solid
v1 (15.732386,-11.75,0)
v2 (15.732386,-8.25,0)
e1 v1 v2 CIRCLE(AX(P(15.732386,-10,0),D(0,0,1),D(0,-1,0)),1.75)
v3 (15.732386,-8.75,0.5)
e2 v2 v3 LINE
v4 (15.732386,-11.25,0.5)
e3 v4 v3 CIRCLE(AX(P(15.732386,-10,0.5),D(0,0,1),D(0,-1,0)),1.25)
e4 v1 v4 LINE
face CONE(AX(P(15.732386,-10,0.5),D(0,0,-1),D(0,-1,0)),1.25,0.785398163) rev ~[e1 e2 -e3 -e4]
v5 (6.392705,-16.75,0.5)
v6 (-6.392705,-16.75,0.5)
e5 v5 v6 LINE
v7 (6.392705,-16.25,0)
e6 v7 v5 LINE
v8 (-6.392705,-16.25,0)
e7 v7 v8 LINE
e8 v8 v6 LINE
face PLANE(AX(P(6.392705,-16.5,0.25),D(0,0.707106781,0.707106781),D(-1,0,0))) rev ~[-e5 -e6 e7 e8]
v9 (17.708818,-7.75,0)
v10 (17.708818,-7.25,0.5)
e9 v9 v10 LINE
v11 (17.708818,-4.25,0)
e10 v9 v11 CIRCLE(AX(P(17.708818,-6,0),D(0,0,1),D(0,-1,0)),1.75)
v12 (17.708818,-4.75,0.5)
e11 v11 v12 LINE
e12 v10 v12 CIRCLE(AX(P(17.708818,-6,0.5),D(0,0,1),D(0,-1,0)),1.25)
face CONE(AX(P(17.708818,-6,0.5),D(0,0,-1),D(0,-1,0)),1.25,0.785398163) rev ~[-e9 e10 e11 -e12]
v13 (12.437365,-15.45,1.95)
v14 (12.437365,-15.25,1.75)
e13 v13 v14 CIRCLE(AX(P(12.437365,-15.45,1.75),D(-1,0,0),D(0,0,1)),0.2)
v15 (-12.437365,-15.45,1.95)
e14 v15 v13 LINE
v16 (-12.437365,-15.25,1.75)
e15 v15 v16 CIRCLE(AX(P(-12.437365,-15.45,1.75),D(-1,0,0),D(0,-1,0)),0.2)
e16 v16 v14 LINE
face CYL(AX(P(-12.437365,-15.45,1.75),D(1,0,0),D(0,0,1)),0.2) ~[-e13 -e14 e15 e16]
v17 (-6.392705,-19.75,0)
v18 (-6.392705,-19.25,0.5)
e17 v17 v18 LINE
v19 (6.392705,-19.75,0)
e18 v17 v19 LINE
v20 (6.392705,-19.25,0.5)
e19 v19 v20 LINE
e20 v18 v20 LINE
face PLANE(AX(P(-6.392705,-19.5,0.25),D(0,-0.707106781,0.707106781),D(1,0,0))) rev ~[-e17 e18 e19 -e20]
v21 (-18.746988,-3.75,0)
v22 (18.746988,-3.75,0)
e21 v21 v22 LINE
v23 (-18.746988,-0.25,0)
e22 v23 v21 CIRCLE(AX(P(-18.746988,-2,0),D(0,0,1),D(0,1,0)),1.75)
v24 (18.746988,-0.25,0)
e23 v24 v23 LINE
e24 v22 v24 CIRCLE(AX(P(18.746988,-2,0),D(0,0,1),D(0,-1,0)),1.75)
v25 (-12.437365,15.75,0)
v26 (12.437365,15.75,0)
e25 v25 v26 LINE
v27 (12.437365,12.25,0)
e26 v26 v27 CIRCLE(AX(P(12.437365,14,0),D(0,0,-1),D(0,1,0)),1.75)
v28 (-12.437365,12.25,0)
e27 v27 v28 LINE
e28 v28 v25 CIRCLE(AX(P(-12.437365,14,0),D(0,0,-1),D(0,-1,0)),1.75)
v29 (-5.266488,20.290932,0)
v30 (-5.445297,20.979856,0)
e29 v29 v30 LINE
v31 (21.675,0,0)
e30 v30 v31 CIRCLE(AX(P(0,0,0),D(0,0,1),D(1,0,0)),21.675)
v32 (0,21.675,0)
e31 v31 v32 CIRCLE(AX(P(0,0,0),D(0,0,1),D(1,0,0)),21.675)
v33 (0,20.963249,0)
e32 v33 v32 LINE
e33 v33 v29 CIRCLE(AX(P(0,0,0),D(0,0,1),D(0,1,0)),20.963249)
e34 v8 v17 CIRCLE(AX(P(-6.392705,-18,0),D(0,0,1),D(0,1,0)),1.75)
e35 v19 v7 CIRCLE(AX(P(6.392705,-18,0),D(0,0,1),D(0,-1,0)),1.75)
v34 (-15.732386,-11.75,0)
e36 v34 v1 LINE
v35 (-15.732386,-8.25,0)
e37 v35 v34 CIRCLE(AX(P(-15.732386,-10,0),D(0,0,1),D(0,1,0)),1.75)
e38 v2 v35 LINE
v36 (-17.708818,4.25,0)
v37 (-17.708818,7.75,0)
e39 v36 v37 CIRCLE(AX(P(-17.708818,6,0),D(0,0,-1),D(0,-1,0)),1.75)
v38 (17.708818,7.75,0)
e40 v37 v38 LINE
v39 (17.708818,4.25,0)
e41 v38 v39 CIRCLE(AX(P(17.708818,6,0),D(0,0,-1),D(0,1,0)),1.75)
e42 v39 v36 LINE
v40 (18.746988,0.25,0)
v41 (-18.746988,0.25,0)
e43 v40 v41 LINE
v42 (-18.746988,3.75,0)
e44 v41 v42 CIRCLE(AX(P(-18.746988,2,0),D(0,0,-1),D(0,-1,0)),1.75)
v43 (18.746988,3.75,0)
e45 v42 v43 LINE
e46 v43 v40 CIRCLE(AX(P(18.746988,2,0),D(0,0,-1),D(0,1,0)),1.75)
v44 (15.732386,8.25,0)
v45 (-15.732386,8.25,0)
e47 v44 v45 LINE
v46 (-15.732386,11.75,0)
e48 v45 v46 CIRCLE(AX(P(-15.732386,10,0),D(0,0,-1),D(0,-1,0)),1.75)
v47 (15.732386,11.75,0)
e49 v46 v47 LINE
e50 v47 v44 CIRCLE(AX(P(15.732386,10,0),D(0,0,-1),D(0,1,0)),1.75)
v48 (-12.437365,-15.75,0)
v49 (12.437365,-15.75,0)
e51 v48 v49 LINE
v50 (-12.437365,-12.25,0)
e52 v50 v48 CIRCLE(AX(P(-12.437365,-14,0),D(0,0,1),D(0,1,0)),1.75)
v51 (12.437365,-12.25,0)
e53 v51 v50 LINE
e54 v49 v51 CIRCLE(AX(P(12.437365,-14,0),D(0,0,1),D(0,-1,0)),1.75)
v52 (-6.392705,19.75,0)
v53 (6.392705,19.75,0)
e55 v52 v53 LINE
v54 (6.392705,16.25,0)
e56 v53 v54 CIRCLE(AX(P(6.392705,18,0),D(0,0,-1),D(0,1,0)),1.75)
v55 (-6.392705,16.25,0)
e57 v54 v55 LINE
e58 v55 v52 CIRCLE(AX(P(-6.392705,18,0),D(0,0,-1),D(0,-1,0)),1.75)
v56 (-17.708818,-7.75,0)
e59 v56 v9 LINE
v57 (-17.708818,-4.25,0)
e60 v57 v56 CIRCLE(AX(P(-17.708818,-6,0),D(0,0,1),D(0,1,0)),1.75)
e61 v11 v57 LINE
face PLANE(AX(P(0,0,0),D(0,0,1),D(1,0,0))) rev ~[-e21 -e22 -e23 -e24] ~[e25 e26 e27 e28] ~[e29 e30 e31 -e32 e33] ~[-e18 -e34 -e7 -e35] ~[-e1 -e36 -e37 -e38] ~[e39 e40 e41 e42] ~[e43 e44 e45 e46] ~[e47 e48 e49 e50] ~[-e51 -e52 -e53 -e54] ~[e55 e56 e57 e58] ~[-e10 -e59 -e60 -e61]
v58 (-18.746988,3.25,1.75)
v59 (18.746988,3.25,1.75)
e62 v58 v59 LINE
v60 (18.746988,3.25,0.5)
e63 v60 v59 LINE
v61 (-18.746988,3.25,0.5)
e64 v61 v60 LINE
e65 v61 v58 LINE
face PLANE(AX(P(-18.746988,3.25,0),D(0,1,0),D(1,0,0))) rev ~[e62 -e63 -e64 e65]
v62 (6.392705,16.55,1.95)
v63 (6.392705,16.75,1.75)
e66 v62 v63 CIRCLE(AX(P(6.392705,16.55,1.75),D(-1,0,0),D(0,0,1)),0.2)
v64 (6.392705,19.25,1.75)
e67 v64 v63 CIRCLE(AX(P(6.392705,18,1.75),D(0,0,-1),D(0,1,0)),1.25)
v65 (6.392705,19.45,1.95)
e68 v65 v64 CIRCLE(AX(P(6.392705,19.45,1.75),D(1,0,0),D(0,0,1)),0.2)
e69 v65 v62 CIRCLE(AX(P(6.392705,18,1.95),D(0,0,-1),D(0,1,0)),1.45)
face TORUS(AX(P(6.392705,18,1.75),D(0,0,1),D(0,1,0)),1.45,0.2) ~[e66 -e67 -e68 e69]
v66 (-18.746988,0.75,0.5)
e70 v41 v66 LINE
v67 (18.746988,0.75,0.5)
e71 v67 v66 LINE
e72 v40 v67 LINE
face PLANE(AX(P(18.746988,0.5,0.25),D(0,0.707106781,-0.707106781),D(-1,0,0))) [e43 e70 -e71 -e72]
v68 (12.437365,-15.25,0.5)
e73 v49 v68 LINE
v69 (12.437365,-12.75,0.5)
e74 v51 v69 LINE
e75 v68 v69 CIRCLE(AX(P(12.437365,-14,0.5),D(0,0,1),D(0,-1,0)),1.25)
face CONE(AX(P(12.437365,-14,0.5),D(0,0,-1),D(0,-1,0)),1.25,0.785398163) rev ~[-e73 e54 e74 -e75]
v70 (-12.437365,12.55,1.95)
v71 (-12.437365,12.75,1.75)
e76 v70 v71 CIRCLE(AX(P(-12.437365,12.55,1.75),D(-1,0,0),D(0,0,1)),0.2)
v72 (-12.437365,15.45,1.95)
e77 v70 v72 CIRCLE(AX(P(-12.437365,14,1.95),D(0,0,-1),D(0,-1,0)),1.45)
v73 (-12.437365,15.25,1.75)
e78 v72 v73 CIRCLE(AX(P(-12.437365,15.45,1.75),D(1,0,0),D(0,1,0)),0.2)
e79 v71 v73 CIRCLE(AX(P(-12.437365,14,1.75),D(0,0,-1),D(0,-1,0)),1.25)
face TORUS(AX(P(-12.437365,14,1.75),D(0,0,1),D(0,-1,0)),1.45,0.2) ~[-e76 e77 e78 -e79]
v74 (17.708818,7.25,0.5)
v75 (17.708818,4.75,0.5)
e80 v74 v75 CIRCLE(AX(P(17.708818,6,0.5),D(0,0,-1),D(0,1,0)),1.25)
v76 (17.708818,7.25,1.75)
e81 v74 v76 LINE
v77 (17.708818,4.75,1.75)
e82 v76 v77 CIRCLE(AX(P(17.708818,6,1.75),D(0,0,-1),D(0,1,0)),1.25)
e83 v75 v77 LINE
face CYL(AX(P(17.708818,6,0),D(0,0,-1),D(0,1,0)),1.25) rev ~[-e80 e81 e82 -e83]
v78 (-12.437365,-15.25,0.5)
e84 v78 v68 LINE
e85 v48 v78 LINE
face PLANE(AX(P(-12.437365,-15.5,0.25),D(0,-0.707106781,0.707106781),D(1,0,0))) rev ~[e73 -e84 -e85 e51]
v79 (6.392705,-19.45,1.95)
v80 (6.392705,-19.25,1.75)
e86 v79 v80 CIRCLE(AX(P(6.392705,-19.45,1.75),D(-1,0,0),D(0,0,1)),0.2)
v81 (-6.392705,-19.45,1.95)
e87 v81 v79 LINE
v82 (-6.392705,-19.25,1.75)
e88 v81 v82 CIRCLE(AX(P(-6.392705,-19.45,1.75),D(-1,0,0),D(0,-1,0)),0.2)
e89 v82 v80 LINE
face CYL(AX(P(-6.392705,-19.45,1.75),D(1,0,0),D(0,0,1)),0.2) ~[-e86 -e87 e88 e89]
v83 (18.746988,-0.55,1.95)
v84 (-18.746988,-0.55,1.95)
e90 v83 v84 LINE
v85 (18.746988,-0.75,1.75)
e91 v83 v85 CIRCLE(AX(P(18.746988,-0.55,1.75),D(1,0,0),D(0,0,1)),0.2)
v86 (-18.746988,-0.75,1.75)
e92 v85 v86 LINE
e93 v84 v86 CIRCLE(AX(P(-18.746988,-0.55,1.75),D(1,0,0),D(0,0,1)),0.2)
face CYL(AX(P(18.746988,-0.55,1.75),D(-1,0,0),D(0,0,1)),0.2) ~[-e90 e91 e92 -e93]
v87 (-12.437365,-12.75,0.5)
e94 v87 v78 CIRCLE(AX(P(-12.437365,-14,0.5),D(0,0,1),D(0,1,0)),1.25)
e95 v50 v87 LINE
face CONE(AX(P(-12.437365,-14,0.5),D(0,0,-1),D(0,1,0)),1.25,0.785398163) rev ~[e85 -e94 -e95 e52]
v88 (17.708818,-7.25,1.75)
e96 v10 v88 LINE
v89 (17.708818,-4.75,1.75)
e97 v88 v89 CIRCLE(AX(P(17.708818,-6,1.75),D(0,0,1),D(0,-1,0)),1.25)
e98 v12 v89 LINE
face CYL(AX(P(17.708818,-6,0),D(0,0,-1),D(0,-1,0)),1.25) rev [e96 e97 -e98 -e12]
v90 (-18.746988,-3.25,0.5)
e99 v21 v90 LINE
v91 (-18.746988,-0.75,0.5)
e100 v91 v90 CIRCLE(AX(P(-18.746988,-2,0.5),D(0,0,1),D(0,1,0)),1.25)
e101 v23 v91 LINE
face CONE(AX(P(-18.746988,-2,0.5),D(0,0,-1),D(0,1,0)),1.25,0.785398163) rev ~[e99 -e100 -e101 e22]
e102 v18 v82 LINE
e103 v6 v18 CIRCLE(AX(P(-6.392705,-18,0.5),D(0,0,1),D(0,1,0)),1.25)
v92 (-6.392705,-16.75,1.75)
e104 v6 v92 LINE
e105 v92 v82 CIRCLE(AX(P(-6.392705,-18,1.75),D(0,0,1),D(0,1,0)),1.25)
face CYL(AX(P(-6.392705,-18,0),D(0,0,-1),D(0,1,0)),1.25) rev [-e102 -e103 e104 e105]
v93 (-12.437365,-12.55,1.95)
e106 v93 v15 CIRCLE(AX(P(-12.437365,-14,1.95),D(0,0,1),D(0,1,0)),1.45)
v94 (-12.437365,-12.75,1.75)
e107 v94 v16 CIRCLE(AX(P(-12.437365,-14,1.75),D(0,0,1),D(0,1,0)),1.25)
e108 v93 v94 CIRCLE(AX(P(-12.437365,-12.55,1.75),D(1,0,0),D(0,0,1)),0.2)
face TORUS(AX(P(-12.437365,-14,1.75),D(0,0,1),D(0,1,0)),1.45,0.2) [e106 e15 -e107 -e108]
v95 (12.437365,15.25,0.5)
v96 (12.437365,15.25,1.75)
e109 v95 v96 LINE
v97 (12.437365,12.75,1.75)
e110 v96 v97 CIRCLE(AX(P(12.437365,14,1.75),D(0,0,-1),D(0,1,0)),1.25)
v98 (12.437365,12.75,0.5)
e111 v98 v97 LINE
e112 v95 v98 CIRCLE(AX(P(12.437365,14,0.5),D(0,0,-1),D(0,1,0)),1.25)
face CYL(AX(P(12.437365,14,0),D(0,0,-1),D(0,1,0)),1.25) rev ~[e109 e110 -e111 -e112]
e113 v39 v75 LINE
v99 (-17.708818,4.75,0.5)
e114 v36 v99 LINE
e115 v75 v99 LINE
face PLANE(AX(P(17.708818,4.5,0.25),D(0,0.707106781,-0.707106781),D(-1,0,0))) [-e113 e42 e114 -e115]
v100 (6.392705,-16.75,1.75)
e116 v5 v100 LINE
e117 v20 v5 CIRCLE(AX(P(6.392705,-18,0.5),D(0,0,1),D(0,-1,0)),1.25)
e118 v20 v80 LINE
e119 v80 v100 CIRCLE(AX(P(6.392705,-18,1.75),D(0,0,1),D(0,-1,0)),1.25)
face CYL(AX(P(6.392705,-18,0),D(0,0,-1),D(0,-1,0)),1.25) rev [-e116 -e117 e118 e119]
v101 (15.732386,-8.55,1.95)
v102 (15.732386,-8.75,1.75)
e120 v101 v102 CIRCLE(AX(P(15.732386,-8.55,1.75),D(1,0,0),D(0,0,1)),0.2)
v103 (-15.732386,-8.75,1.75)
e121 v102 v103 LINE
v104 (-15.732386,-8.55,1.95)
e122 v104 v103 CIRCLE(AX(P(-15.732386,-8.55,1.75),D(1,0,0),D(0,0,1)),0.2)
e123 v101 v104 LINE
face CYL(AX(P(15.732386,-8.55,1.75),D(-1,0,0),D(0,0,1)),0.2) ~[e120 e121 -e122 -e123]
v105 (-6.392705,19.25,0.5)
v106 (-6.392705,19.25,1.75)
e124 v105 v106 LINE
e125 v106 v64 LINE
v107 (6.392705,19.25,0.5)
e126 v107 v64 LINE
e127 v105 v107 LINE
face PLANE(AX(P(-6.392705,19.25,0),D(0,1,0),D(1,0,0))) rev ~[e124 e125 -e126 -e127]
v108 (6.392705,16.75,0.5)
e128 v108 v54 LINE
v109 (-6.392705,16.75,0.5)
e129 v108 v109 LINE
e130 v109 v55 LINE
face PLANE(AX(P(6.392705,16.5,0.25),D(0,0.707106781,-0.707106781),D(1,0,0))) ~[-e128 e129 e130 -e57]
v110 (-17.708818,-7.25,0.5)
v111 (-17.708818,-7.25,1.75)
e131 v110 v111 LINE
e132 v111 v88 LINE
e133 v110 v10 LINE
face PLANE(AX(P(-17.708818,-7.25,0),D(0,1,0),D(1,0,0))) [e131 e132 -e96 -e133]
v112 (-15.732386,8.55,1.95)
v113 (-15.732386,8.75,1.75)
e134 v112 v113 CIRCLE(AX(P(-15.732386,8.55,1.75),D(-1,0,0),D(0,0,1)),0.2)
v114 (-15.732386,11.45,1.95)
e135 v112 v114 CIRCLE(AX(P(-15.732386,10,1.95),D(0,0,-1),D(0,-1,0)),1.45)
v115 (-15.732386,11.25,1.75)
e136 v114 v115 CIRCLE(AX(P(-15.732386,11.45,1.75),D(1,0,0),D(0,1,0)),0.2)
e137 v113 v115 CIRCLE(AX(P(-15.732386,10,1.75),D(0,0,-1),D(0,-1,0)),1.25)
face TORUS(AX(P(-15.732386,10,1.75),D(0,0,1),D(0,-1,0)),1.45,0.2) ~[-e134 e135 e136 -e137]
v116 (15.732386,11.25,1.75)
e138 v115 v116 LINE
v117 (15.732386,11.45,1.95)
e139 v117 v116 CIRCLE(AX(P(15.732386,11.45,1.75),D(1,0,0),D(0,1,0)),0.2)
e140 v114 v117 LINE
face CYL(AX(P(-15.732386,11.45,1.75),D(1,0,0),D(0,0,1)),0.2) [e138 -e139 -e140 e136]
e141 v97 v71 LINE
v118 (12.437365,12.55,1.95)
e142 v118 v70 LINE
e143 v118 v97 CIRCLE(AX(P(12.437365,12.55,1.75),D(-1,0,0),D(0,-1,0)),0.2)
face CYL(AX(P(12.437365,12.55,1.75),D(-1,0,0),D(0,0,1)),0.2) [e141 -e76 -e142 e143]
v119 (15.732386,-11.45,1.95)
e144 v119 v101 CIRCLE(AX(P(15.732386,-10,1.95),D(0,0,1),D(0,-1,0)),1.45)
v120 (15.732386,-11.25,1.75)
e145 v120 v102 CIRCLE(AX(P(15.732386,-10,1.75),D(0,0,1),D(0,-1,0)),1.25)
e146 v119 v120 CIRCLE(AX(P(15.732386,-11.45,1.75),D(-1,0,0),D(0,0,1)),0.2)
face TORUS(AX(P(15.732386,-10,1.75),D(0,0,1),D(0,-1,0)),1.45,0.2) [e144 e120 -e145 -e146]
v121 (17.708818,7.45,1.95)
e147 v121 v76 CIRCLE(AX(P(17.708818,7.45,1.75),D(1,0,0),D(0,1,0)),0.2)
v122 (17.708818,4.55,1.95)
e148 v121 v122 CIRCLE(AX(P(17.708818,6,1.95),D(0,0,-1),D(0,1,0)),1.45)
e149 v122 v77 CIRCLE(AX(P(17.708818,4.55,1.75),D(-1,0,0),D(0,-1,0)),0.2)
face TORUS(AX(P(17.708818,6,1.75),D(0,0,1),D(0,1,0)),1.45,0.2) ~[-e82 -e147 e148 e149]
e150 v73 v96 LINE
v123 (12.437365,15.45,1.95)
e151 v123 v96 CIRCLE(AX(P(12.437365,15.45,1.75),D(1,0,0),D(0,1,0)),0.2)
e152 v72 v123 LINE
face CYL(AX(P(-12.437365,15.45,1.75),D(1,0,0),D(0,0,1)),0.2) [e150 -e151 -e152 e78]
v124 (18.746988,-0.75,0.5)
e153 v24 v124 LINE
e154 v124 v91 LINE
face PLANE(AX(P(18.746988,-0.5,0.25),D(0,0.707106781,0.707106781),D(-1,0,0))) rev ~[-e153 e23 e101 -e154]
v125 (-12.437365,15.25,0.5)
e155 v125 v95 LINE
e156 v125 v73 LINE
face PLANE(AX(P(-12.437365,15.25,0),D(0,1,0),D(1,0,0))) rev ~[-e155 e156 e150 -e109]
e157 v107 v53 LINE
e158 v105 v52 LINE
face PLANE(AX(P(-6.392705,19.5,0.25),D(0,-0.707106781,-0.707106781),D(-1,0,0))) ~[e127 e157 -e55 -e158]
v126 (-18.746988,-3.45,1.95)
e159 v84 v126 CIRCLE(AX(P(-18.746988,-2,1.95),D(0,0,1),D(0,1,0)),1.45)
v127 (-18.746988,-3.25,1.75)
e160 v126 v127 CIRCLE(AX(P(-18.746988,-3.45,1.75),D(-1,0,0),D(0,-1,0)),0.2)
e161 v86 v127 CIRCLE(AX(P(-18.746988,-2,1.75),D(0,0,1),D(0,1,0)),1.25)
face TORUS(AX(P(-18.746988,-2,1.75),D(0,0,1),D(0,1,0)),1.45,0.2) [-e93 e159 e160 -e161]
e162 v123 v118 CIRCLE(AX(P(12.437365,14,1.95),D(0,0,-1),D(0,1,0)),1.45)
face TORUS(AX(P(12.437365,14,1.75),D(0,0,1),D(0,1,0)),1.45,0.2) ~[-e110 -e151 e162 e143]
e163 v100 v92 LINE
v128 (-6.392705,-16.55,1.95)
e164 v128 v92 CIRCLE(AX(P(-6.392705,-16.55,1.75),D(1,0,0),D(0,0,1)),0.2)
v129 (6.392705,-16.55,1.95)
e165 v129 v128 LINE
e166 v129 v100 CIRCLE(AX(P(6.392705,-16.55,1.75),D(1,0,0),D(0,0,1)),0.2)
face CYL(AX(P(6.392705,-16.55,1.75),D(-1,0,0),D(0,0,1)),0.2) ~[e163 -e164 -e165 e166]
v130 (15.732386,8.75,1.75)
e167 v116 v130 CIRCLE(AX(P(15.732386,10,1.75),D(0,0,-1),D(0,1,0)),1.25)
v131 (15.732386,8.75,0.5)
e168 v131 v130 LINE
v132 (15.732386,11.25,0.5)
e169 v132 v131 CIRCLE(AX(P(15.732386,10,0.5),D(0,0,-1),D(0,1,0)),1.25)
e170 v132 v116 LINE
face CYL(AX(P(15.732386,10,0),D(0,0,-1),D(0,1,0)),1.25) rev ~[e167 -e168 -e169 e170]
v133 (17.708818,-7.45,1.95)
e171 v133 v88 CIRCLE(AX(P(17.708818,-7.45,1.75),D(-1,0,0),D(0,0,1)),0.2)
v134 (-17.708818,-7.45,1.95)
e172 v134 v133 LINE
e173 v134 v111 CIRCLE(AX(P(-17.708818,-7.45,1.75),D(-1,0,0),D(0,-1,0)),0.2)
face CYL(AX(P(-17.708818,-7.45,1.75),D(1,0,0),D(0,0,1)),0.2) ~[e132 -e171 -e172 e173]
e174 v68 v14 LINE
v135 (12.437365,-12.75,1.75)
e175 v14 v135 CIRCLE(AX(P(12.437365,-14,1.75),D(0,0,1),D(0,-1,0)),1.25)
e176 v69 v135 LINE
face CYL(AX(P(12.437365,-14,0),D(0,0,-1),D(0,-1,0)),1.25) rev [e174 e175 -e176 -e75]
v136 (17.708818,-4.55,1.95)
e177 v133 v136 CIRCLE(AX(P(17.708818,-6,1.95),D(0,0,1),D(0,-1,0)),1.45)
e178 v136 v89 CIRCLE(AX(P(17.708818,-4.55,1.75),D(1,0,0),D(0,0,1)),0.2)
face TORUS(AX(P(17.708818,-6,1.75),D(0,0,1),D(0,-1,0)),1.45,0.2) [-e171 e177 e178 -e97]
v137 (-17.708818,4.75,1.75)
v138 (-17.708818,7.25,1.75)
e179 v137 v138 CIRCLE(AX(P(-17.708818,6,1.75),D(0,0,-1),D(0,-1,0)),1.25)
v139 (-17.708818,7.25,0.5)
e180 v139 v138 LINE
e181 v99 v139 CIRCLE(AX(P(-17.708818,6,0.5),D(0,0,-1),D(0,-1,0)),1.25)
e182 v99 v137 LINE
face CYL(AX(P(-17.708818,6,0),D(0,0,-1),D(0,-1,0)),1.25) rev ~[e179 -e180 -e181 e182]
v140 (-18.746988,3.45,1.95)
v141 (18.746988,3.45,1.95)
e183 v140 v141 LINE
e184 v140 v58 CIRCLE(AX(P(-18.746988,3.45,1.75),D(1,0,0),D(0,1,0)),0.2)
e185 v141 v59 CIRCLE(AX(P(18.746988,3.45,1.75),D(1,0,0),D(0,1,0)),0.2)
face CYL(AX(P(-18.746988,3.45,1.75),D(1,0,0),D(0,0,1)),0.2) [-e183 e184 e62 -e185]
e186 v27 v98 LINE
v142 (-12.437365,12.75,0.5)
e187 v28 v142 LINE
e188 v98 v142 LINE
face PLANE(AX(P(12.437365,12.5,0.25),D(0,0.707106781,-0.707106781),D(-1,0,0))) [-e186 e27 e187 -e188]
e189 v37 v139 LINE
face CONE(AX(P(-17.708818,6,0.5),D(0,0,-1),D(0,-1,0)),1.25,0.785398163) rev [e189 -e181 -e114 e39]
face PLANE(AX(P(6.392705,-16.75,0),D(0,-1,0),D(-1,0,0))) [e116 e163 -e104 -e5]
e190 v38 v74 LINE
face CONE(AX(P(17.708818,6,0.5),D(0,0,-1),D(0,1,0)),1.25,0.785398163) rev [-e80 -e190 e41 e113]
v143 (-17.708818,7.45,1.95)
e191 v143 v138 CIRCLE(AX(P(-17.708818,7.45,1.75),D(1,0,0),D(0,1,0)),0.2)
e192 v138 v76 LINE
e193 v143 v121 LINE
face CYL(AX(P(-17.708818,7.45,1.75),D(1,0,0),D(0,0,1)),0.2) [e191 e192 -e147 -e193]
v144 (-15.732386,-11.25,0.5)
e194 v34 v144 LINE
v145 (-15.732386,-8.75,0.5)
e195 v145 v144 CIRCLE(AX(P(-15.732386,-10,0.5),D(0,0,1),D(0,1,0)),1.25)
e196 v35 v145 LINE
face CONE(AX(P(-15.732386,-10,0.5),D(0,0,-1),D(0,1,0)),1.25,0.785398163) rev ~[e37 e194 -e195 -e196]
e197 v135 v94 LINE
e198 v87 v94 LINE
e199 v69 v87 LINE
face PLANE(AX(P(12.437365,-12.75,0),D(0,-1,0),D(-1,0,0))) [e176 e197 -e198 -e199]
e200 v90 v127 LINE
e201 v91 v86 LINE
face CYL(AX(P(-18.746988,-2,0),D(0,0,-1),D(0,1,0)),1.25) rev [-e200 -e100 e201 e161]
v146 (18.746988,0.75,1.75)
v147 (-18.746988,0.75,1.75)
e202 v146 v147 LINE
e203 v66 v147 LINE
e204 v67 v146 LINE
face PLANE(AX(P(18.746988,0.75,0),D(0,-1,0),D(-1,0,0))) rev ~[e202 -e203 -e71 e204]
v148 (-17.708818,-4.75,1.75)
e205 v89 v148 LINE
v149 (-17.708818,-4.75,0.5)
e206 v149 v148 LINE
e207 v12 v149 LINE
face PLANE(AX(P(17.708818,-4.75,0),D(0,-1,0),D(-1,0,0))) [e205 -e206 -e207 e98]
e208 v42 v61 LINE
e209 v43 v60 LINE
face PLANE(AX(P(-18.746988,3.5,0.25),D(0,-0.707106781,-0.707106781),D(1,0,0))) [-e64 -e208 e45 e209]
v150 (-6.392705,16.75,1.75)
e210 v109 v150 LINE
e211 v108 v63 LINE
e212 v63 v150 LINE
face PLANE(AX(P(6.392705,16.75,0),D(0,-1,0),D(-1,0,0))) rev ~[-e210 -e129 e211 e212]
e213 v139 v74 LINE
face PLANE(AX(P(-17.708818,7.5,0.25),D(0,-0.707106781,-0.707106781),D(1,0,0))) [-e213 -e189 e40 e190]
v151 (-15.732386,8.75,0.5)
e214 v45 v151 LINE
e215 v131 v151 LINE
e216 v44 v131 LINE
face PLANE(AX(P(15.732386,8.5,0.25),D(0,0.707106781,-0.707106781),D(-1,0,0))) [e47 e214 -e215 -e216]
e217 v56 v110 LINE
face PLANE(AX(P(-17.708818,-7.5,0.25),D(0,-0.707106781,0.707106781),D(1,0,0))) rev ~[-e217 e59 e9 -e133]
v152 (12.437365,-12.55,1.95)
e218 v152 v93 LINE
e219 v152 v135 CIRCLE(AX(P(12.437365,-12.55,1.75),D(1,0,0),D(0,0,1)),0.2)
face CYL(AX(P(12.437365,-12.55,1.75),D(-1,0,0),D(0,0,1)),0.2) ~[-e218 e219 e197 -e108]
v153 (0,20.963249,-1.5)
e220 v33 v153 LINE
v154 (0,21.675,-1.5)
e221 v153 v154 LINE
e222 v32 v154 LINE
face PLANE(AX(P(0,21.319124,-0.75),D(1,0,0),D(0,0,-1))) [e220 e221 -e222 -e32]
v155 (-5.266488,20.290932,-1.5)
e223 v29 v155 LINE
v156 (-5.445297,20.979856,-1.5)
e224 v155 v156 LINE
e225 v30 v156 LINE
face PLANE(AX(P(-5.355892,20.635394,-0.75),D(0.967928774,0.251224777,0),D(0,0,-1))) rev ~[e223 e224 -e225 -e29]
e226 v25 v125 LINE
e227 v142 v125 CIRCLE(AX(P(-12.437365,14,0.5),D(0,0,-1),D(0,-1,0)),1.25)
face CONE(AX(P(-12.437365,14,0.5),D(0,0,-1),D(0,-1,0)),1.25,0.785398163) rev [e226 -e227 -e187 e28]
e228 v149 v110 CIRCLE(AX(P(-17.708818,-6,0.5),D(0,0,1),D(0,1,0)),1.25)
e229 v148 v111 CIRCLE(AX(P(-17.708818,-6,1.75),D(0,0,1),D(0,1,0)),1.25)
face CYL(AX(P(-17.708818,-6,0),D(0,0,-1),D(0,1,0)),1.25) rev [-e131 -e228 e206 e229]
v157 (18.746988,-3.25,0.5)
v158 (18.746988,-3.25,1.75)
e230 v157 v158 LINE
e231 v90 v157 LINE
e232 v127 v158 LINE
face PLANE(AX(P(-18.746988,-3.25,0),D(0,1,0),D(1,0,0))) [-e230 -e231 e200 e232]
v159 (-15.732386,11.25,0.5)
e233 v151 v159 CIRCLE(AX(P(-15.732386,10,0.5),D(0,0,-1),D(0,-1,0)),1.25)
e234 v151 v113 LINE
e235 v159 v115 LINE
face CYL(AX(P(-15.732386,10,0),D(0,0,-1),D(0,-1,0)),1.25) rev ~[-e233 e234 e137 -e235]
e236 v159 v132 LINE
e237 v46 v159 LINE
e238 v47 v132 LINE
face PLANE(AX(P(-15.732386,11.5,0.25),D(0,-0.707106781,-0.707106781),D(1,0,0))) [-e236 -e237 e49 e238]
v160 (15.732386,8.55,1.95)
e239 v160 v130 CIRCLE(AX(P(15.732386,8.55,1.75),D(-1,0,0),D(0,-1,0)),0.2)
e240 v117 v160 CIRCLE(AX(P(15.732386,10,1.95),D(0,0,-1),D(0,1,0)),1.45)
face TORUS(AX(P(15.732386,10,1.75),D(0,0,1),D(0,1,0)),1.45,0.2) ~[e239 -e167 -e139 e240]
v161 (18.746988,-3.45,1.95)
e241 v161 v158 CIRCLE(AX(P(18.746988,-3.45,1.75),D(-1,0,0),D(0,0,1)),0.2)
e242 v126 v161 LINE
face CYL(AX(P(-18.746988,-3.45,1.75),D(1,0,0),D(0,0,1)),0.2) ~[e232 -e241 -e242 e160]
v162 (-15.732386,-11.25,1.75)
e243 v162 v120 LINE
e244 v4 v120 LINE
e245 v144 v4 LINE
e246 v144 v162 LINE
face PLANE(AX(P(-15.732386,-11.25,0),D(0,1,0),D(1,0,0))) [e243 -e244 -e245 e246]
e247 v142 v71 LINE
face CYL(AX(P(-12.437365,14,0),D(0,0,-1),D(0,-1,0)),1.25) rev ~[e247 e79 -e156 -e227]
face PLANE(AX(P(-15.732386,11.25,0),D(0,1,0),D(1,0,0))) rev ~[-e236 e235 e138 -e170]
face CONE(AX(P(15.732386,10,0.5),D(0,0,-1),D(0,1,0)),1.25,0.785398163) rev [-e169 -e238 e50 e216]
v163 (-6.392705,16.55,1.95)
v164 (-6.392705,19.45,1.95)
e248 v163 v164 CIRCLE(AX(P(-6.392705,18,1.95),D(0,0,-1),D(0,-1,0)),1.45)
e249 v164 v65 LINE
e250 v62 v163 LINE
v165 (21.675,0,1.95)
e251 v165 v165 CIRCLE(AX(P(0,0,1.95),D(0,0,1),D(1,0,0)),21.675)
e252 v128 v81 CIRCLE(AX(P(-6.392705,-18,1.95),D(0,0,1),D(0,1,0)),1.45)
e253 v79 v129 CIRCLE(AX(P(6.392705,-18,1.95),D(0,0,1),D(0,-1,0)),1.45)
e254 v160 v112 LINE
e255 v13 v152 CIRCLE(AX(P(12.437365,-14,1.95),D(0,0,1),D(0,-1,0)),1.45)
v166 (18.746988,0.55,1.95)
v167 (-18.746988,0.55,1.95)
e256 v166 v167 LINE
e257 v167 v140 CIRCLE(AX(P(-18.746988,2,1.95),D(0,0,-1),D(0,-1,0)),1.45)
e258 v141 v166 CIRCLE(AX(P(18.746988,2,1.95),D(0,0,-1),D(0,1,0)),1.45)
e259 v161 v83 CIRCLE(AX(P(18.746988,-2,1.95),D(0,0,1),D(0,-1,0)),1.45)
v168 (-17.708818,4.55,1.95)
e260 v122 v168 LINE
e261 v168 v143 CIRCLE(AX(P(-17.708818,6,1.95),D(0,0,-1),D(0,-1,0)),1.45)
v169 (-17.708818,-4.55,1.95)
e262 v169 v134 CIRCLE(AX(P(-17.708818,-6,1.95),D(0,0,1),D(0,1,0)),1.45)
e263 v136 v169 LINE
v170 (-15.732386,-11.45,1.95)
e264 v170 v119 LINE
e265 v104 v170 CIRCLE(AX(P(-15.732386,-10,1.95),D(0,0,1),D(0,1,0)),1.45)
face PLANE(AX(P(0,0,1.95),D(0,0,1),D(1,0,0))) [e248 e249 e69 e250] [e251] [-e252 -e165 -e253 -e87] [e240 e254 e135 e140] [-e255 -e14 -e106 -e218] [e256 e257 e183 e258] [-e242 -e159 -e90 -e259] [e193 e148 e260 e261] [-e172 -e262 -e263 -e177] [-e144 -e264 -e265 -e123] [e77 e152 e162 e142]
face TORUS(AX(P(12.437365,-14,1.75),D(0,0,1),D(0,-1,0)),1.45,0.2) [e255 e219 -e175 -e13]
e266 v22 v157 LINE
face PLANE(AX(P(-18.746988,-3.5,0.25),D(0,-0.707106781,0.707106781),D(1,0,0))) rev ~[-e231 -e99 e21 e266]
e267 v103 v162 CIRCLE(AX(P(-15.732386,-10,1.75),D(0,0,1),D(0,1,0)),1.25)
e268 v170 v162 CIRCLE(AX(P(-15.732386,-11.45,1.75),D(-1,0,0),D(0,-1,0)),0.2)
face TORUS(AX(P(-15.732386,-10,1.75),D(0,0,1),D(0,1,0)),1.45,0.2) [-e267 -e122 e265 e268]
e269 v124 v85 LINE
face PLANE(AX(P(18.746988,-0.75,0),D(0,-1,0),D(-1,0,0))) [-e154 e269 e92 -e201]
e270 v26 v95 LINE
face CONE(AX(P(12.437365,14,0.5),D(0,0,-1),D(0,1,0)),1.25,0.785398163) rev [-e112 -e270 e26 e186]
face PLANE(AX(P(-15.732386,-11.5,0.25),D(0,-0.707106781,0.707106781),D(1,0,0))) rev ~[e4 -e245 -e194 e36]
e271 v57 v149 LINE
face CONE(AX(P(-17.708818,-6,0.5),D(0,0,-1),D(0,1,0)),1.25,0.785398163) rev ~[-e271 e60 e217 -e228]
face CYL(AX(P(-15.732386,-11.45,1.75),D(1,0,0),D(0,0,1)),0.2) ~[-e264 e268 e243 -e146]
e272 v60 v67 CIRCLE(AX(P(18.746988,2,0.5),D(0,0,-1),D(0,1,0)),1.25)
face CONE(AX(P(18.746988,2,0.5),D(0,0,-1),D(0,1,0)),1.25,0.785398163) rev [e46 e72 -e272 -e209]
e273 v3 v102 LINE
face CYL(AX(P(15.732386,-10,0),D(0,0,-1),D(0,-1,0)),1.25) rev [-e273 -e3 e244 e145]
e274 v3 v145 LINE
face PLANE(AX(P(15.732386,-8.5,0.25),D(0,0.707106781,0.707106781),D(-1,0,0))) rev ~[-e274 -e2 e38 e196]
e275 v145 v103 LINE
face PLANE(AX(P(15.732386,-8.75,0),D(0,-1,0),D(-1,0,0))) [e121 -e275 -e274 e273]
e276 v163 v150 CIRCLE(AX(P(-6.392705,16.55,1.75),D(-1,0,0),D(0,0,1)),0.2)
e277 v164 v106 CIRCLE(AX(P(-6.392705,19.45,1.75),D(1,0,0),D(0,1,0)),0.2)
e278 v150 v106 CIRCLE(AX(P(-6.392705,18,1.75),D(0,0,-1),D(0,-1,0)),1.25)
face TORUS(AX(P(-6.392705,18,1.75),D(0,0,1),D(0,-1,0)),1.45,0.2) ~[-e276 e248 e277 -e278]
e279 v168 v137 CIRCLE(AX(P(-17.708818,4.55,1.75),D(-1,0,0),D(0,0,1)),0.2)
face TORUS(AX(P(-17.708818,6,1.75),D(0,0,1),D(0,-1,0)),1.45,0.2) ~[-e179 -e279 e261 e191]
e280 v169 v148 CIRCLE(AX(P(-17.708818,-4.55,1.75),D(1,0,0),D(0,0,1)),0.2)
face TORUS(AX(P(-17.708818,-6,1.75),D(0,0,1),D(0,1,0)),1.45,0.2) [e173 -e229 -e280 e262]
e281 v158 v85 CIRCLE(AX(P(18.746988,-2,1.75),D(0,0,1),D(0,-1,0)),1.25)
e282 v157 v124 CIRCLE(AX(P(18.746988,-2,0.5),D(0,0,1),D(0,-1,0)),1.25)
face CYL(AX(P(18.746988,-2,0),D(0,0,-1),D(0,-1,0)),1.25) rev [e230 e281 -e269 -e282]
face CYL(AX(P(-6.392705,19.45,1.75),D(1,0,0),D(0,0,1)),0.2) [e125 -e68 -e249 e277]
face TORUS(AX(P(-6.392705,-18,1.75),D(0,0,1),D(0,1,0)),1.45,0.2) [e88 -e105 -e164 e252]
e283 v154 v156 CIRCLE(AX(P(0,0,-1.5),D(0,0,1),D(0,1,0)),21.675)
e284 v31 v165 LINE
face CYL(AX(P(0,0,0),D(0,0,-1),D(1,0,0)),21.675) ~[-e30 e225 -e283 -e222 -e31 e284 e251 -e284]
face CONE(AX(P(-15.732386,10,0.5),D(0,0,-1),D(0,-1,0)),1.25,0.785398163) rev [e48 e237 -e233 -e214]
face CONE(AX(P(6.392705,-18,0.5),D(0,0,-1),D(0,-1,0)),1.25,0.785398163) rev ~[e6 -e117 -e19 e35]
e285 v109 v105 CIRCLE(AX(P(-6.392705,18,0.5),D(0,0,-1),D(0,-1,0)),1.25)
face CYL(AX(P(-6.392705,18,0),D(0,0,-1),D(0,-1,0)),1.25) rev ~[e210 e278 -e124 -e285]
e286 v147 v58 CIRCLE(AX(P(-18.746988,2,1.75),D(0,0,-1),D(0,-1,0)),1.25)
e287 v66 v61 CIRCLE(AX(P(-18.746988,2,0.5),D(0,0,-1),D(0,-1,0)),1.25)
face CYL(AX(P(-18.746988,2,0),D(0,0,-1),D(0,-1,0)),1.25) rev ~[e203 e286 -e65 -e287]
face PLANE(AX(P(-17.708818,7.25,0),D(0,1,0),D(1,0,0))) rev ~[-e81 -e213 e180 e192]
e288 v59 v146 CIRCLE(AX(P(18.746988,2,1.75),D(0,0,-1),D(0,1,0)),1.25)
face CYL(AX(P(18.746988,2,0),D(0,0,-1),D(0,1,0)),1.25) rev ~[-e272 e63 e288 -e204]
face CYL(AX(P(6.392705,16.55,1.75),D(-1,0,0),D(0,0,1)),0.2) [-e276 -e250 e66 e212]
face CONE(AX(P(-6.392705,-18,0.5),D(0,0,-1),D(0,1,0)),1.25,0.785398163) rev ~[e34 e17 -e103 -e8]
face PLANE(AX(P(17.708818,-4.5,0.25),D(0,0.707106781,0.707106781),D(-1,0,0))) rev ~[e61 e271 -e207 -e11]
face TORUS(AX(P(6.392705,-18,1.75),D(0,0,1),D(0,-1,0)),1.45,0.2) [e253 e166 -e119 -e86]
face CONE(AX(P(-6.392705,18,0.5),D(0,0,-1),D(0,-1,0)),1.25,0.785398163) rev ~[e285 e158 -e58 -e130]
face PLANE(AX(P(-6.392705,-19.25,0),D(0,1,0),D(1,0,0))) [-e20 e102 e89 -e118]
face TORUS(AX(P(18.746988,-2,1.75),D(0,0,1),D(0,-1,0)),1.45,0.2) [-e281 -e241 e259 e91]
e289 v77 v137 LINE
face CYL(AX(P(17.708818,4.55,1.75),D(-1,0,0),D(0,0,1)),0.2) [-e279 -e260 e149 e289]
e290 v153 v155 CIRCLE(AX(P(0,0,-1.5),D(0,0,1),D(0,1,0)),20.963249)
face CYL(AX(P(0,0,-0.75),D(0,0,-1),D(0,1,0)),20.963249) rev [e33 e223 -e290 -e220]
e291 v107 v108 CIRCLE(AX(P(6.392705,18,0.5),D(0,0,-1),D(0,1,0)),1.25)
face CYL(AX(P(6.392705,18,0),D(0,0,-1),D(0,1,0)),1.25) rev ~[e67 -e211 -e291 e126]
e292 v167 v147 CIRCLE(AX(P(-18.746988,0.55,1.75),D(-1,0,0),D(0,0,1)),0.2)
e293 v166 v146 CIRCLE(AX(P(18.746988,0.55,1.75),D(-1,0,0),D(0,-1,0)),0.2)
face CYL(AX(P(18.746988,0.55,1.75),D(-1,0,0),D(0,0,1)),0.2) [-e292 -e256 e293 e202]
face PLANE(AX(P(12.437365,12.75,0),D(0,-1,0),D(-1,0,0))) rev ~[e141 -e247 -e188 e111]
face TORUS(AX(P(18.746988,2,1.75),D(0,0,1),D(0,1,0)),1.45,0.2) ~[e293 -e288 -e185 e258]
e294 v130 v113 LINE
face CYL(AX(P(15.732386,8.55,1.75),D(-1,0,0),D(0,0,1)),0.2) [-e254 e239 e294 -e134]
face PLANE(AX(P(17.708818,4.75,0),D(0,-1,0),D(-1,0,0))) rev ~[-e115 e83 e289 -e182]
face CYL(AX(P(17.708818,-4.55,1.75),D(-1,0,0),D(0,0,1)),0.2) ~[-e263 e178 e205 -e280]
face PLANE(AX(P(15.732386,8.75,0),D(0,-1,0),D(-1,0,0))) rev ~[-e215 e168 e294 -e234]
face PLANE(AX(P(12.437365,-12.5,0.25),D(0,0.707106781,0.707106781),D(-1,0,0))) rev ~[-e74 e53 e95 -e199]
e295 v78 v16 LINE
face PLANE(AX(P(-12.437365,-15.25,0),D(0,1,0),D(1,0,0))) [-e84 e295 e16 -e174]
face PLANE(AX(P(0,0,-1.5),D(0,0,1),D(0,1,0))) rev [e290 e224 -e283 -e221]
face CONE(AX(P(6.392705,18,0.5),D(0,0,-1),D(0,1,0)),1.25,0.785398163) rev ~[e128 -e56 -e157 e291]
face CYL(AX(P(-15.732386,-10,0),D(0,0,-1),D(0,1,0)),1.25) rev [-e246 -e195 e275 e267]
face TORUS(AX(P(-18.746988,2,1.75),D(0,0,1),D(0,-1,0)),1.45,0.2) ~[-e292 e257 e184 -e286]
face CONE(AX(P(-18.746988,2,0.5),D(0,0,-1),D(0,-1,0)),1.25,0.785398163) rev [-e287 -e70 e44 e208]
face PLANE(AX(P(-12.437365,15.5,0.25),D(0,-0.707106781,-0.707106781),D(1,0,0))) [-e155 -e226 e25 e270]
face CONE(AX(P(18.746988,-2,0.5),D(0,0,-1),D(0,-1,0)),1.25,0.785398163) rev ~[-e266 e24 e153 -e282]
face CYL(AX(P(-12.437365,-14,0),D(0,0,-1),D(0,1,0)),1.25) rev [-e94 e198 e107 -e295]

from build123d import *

# Parameters (mm, degrees)
CROQUIS1_R              = 21
SALIENTE_EXTRUIR1_DEPTH = 1.95
CROQUIS1_3_R            = 21.675
CROQUIS1_3_R_2          = 21
SALIENTE_EXTRUIR2_DEPTH = 1.95
CROQUIS2_W              = 1.5
CROQUIS2_H              = 0.711751017
REVOLUCI_N1_ANGLE       = 14.55
REDONDEO1_R             = 0.2
CHAFL_N1_SIZE           = 0.5
CHAFL_N2_SIZE           = 0.5


with BuildPart() as part:
    # Croquis1 → Saliente-Extruir1 (new body)
    with BuildSketch(Plane.XY):
        Circle(CROQUIS1_R)
        with BuildLine():
            Line((6.392705166, -19.25), (-6.392705166, -19.25))
            ThreePointArc((-6.392705166, -19.25), (-7.642705166, -18), (-6.392705166, -16.75))
            Line((-6.392705166, -16.75), (6.392705166, -16.75))
            ThreePointArc((6.392705166, -16.75), (7.642705166, -18), (6.392705166, -19.25))
        make_face(mode=Mode.SUBTRACT)
        with BuildLine():
            Line((12.437364718, -15.25), (-12.437364718, -15.25))
            ThreePointArc((-12.437364718, -15.25), (-13.687364718, -14), (-12.437364718, -12.75))
            Line((-12.437364718, -12.75), (12.437364718, -12.75))
            ThreePointArc((12.437364718, -12.75), (13.687364718, -14), (12.437364718, -15.25))
        make_face(mode=Mode.SUBTRACT)
        with BuildLine():
            Line((15.732385626, -11.25), (-15.732385626, -11.25))
            ThreePointArc((-15.732385626, -11.25), (-16.982385626, -10), (-15.732385626, -8.75))
            Line((-15.732385626, -8.75), (15.732385626, -8.75))
            ThreePointArc((15.732385626, -8.75), (16.982385626, -10), (15.732385626, -11.25))
        make_face(mode=Mode.SUBTRACT)
        with BuildLine():
            Line((17.708817824, -7.25), (-17.708817824, -7.25))
            ThreePointArc((-17.708817824, -7.25), (-18.958817824, -6), (-17.708817824, -4.75))
            Line((-17.708817824, -4.75), (17.708817824, -4.75))
            ThreePointArc((17.708817824, -4.75), (18.958817824, -6), (17.708817824, -7.25))
        make_face(mode=Mode.SUBTRACT)
        with BuildLine():
            Line((18.746987733, -3.25), (-18.746987733, -3.25))
            ThreePointArc((-18.746987733, -3.25), (-19.996987733, -2), (-18.746987733, -0.75))
            Line((-18.746987733, -0.75), (18.746987733, -0.75))
            ThreePointArc((18.746987733, -0.75), (19.996987733, -2), (18.746987733, -3.25))
        make_face(mode=Mode.SUBTRACT)
        with BuildLine():
            ThreePointArc((-18.746987733, 0.75), (-19.996987733, 2), (-18.746987733, 3.25))
            Line((-18.746987733, 3.25), (18.746987733, 3.25))
            ThreePointArc((18.746987733, 3.25), (19.996987733, 2), (18.746987733, 0.75))
            Line((18.746987733, 0.75), (-18.746987733, 0.75))
        make_face(mode=Mode.SUBTRACT)
        with BuildLine():
            ThreePointArc((-17.708817824, 4.75), (-18.958817824, 6), (-17.708817824, 7.25))
            Line((-17.708817824, 7.25), (17.708817824, 7.25))
            ThreePointArc((17.708817824, 7.25), (18.958817824, 6), (17.708817824, 4.75))
            Line((17.708817824, 4.75), (-17.708817824, 4.75))
        make_face(mode=Mode.SUBTRACT)
        with BuildLine():
            ThreePointArc((-15.732385626, 8.75), (-16.982385626, 10), (-15.732385626, 11.25))
            Line((-15.732385626, 11.25), (15.732385626, 11.25))
            ThreePointArc((15.732385626, 11.25), (16.982385626, 10), (15.732385626, 8.75))
            Line((15.732385626, 8.75), (-15.732385626, 8.75))
        make_face(mode=Mode.SUBTRACT)
        with BuildLine():
            ThreePointArc((-12.437364718, 12.75), (-13.687364718, 14), (-12.437364718, 15.25))
            Line((-12.437364718, 15.25), (12.437364718, 15.25))
            ThreePointArc((12.437364718, 15.25), (13.687364718, 14), (12.437364718, 12.75))
            Line((12.437364718, 12.75), (-12.437364718, 12.75))
        make_face(mode=Mode.SUBTRACT)
        with BuildLine():
            ThreePointArc((-6.392705166, 16.75), (-7.642705166, 18), (-6.392705166, 19.25))
            Line((-6.392705166, 19.25), (6.392705166, 19.25))
            ThreePointArc((6.392705166, 19.25), (7.642705166, 18), (6.392705166, 16.75))
            Line((6.392705166, 16.75), (-6.392705166, 16.75))
        make_face(mode=Mode.SUBTRACT)
    extrude(amount=SALIENTE_EXTRUIR1_DEPTH)

    # Croquis1<3> → Saliente-Extruir2 (add)
    with BuildSketch(Plane.XY):
        Circle(CROQUIS1_3_R)
        Circle(CROQUIS1_3_R_2, mode=Mode.SUBTRACT)
    extrude(amount=SALIENTE_EXTRUIR2_DEPTH)

    # Croquis2 → Revolución1 (revolve)
    with BuildSketch(Plane(origin=(0, 0, 0), x_dir=(0, 0, -1), z_dir=(1, 0, 0))):
        with Locations((0.75, 21.319124491)):
            Rectangle(CROQUIS2_W, CROQUIS2_H)
    revolve(axis=Axis((0, 0, 0), (0, 0, 1)), revolution_arc=REVOLUCI_N1_ANGLE)

    # Redondeo1
    redondeo1_edges = [part.edges().sort_by_distance(p)[0] for p in [
        (-7.642705166, -18, 1.95),
        (0, -19.25, 1.95),
        (7.642705166, -18, 1.95),
        (0, -16.75, 1.95),
        (-13.687364718, -14, 1.95),
        (0, -15.25, 1.95),
        (13.687364718, -14, 1.95),
        (0, -12.75, 1.95),
        (-16.982385626, -10, 1.95),
        (0, -11.25, 1.95),
        (16.982385626, -10, 1.95),
        (0, -8.75, 1.95),
        (-18.958817824, -6, 1.95),
        (0, -7.25, 1.95),
        (18.958817824, -6, 1.95),
        (0, -4.75, 1.95),
        (-19.996987733, -2, 1.95),
        (0, -3.25, 1.95),
        (19.996987733, -2, 1.95),
        (0, -0.75, 1.95),
        (-19.996987733, 2, 1.95),
        (0, 0.75, 1.95),
        (19.996987733, 2, 1.95),
        (0, 3.25, 1.95),
        (-18.958817824, 6, 1.95),
        (18.958817824, 6, 1.95),
        (0, 7.25, 1.95),
        (0, 4.75, 1.95),
        (-16.982385626, 10, 1.95),
        (0, 8.75, 1.95),
        (16.982385626, 10, 1.95),
        (0, 11.25, 1.95),
        (-13.687364718, 14, 1.95),
        (0, 12.75, 1.95),
        (13.687364718, 14, 1.95),
        (0, 15.25, 1.95),
        (0, 19.25, 1.95),
        (7.642705166, 18, 1.95),
        (-7.642705166, 18, 1.95),
        (0, 16.75, 1.95),
    ]]
    fillet(redondeo1_edges, radius=REDONDEO1_R)

    # Chaflán1
    chafl_n1_edges = [part.edges().sort_by_distance(p)[0] for p in [
        (-7.642705166, 18, 0),
        (0, 16.75, 0),
        (7.642705166, 18, 0),
        (0, 19.25, 0),
    ]]
    chamfer(chafl_n1_edges, length=CHAFL_N1_SIZE)

    # Chaflán2
    chafl_n2_edges = [part.edges().sort_by_distance(p)[0] for p in [
        (-16.982385626, 10, 0),
        (0, 8.75, 0),
        (16.982385626, 10, 0),
        (0, 11.25, 0),
        (-13.687364718, 14, 0),
        (0, 12.75, 0),
        (13.687364718, 14, 0),
        (0, 15.25, 0),
        (-7.642705166, -18, 0),
        (0, -19.25, 0),
        (7.642705166, -18, 0),
        (0, -16.75, 0),
        (-13.687364718, -14, 0),
        (0, -15.25, 0),
        (13.687364718, -14, 0),
        (0, -12.75, 0),
        (-16.982385626, -10, 0),
        (0, -11.25, 0),
        (16.982385626, -10, 0),
        (0, -8.75, 0),
        (-18.958817824, -6, 0),
        (0, -7.25, 0),
        (18.958817824, -6, 0),
        (0, -4.75, 0),
        (-19.996987733, -2, 0),
        (0, -3.25, 0),
        (19.996987733, -2, 0),
        (0, -0.75, 0),
        (0, 3.25, 0),
        (19.996987733, 2, 0),
        (0, 0.75, 0),
        (-19.996987733, 2, 0),
        (0, 4.75, 0),
        (-18.958817824, 6, 0),
        (18.958817824, 6, 0),
        (0, 7.25, 0),
    ]]
    chamfer(chafl_n2_edges, length=CHAFL_N2_SIZE)


solid = part.part
